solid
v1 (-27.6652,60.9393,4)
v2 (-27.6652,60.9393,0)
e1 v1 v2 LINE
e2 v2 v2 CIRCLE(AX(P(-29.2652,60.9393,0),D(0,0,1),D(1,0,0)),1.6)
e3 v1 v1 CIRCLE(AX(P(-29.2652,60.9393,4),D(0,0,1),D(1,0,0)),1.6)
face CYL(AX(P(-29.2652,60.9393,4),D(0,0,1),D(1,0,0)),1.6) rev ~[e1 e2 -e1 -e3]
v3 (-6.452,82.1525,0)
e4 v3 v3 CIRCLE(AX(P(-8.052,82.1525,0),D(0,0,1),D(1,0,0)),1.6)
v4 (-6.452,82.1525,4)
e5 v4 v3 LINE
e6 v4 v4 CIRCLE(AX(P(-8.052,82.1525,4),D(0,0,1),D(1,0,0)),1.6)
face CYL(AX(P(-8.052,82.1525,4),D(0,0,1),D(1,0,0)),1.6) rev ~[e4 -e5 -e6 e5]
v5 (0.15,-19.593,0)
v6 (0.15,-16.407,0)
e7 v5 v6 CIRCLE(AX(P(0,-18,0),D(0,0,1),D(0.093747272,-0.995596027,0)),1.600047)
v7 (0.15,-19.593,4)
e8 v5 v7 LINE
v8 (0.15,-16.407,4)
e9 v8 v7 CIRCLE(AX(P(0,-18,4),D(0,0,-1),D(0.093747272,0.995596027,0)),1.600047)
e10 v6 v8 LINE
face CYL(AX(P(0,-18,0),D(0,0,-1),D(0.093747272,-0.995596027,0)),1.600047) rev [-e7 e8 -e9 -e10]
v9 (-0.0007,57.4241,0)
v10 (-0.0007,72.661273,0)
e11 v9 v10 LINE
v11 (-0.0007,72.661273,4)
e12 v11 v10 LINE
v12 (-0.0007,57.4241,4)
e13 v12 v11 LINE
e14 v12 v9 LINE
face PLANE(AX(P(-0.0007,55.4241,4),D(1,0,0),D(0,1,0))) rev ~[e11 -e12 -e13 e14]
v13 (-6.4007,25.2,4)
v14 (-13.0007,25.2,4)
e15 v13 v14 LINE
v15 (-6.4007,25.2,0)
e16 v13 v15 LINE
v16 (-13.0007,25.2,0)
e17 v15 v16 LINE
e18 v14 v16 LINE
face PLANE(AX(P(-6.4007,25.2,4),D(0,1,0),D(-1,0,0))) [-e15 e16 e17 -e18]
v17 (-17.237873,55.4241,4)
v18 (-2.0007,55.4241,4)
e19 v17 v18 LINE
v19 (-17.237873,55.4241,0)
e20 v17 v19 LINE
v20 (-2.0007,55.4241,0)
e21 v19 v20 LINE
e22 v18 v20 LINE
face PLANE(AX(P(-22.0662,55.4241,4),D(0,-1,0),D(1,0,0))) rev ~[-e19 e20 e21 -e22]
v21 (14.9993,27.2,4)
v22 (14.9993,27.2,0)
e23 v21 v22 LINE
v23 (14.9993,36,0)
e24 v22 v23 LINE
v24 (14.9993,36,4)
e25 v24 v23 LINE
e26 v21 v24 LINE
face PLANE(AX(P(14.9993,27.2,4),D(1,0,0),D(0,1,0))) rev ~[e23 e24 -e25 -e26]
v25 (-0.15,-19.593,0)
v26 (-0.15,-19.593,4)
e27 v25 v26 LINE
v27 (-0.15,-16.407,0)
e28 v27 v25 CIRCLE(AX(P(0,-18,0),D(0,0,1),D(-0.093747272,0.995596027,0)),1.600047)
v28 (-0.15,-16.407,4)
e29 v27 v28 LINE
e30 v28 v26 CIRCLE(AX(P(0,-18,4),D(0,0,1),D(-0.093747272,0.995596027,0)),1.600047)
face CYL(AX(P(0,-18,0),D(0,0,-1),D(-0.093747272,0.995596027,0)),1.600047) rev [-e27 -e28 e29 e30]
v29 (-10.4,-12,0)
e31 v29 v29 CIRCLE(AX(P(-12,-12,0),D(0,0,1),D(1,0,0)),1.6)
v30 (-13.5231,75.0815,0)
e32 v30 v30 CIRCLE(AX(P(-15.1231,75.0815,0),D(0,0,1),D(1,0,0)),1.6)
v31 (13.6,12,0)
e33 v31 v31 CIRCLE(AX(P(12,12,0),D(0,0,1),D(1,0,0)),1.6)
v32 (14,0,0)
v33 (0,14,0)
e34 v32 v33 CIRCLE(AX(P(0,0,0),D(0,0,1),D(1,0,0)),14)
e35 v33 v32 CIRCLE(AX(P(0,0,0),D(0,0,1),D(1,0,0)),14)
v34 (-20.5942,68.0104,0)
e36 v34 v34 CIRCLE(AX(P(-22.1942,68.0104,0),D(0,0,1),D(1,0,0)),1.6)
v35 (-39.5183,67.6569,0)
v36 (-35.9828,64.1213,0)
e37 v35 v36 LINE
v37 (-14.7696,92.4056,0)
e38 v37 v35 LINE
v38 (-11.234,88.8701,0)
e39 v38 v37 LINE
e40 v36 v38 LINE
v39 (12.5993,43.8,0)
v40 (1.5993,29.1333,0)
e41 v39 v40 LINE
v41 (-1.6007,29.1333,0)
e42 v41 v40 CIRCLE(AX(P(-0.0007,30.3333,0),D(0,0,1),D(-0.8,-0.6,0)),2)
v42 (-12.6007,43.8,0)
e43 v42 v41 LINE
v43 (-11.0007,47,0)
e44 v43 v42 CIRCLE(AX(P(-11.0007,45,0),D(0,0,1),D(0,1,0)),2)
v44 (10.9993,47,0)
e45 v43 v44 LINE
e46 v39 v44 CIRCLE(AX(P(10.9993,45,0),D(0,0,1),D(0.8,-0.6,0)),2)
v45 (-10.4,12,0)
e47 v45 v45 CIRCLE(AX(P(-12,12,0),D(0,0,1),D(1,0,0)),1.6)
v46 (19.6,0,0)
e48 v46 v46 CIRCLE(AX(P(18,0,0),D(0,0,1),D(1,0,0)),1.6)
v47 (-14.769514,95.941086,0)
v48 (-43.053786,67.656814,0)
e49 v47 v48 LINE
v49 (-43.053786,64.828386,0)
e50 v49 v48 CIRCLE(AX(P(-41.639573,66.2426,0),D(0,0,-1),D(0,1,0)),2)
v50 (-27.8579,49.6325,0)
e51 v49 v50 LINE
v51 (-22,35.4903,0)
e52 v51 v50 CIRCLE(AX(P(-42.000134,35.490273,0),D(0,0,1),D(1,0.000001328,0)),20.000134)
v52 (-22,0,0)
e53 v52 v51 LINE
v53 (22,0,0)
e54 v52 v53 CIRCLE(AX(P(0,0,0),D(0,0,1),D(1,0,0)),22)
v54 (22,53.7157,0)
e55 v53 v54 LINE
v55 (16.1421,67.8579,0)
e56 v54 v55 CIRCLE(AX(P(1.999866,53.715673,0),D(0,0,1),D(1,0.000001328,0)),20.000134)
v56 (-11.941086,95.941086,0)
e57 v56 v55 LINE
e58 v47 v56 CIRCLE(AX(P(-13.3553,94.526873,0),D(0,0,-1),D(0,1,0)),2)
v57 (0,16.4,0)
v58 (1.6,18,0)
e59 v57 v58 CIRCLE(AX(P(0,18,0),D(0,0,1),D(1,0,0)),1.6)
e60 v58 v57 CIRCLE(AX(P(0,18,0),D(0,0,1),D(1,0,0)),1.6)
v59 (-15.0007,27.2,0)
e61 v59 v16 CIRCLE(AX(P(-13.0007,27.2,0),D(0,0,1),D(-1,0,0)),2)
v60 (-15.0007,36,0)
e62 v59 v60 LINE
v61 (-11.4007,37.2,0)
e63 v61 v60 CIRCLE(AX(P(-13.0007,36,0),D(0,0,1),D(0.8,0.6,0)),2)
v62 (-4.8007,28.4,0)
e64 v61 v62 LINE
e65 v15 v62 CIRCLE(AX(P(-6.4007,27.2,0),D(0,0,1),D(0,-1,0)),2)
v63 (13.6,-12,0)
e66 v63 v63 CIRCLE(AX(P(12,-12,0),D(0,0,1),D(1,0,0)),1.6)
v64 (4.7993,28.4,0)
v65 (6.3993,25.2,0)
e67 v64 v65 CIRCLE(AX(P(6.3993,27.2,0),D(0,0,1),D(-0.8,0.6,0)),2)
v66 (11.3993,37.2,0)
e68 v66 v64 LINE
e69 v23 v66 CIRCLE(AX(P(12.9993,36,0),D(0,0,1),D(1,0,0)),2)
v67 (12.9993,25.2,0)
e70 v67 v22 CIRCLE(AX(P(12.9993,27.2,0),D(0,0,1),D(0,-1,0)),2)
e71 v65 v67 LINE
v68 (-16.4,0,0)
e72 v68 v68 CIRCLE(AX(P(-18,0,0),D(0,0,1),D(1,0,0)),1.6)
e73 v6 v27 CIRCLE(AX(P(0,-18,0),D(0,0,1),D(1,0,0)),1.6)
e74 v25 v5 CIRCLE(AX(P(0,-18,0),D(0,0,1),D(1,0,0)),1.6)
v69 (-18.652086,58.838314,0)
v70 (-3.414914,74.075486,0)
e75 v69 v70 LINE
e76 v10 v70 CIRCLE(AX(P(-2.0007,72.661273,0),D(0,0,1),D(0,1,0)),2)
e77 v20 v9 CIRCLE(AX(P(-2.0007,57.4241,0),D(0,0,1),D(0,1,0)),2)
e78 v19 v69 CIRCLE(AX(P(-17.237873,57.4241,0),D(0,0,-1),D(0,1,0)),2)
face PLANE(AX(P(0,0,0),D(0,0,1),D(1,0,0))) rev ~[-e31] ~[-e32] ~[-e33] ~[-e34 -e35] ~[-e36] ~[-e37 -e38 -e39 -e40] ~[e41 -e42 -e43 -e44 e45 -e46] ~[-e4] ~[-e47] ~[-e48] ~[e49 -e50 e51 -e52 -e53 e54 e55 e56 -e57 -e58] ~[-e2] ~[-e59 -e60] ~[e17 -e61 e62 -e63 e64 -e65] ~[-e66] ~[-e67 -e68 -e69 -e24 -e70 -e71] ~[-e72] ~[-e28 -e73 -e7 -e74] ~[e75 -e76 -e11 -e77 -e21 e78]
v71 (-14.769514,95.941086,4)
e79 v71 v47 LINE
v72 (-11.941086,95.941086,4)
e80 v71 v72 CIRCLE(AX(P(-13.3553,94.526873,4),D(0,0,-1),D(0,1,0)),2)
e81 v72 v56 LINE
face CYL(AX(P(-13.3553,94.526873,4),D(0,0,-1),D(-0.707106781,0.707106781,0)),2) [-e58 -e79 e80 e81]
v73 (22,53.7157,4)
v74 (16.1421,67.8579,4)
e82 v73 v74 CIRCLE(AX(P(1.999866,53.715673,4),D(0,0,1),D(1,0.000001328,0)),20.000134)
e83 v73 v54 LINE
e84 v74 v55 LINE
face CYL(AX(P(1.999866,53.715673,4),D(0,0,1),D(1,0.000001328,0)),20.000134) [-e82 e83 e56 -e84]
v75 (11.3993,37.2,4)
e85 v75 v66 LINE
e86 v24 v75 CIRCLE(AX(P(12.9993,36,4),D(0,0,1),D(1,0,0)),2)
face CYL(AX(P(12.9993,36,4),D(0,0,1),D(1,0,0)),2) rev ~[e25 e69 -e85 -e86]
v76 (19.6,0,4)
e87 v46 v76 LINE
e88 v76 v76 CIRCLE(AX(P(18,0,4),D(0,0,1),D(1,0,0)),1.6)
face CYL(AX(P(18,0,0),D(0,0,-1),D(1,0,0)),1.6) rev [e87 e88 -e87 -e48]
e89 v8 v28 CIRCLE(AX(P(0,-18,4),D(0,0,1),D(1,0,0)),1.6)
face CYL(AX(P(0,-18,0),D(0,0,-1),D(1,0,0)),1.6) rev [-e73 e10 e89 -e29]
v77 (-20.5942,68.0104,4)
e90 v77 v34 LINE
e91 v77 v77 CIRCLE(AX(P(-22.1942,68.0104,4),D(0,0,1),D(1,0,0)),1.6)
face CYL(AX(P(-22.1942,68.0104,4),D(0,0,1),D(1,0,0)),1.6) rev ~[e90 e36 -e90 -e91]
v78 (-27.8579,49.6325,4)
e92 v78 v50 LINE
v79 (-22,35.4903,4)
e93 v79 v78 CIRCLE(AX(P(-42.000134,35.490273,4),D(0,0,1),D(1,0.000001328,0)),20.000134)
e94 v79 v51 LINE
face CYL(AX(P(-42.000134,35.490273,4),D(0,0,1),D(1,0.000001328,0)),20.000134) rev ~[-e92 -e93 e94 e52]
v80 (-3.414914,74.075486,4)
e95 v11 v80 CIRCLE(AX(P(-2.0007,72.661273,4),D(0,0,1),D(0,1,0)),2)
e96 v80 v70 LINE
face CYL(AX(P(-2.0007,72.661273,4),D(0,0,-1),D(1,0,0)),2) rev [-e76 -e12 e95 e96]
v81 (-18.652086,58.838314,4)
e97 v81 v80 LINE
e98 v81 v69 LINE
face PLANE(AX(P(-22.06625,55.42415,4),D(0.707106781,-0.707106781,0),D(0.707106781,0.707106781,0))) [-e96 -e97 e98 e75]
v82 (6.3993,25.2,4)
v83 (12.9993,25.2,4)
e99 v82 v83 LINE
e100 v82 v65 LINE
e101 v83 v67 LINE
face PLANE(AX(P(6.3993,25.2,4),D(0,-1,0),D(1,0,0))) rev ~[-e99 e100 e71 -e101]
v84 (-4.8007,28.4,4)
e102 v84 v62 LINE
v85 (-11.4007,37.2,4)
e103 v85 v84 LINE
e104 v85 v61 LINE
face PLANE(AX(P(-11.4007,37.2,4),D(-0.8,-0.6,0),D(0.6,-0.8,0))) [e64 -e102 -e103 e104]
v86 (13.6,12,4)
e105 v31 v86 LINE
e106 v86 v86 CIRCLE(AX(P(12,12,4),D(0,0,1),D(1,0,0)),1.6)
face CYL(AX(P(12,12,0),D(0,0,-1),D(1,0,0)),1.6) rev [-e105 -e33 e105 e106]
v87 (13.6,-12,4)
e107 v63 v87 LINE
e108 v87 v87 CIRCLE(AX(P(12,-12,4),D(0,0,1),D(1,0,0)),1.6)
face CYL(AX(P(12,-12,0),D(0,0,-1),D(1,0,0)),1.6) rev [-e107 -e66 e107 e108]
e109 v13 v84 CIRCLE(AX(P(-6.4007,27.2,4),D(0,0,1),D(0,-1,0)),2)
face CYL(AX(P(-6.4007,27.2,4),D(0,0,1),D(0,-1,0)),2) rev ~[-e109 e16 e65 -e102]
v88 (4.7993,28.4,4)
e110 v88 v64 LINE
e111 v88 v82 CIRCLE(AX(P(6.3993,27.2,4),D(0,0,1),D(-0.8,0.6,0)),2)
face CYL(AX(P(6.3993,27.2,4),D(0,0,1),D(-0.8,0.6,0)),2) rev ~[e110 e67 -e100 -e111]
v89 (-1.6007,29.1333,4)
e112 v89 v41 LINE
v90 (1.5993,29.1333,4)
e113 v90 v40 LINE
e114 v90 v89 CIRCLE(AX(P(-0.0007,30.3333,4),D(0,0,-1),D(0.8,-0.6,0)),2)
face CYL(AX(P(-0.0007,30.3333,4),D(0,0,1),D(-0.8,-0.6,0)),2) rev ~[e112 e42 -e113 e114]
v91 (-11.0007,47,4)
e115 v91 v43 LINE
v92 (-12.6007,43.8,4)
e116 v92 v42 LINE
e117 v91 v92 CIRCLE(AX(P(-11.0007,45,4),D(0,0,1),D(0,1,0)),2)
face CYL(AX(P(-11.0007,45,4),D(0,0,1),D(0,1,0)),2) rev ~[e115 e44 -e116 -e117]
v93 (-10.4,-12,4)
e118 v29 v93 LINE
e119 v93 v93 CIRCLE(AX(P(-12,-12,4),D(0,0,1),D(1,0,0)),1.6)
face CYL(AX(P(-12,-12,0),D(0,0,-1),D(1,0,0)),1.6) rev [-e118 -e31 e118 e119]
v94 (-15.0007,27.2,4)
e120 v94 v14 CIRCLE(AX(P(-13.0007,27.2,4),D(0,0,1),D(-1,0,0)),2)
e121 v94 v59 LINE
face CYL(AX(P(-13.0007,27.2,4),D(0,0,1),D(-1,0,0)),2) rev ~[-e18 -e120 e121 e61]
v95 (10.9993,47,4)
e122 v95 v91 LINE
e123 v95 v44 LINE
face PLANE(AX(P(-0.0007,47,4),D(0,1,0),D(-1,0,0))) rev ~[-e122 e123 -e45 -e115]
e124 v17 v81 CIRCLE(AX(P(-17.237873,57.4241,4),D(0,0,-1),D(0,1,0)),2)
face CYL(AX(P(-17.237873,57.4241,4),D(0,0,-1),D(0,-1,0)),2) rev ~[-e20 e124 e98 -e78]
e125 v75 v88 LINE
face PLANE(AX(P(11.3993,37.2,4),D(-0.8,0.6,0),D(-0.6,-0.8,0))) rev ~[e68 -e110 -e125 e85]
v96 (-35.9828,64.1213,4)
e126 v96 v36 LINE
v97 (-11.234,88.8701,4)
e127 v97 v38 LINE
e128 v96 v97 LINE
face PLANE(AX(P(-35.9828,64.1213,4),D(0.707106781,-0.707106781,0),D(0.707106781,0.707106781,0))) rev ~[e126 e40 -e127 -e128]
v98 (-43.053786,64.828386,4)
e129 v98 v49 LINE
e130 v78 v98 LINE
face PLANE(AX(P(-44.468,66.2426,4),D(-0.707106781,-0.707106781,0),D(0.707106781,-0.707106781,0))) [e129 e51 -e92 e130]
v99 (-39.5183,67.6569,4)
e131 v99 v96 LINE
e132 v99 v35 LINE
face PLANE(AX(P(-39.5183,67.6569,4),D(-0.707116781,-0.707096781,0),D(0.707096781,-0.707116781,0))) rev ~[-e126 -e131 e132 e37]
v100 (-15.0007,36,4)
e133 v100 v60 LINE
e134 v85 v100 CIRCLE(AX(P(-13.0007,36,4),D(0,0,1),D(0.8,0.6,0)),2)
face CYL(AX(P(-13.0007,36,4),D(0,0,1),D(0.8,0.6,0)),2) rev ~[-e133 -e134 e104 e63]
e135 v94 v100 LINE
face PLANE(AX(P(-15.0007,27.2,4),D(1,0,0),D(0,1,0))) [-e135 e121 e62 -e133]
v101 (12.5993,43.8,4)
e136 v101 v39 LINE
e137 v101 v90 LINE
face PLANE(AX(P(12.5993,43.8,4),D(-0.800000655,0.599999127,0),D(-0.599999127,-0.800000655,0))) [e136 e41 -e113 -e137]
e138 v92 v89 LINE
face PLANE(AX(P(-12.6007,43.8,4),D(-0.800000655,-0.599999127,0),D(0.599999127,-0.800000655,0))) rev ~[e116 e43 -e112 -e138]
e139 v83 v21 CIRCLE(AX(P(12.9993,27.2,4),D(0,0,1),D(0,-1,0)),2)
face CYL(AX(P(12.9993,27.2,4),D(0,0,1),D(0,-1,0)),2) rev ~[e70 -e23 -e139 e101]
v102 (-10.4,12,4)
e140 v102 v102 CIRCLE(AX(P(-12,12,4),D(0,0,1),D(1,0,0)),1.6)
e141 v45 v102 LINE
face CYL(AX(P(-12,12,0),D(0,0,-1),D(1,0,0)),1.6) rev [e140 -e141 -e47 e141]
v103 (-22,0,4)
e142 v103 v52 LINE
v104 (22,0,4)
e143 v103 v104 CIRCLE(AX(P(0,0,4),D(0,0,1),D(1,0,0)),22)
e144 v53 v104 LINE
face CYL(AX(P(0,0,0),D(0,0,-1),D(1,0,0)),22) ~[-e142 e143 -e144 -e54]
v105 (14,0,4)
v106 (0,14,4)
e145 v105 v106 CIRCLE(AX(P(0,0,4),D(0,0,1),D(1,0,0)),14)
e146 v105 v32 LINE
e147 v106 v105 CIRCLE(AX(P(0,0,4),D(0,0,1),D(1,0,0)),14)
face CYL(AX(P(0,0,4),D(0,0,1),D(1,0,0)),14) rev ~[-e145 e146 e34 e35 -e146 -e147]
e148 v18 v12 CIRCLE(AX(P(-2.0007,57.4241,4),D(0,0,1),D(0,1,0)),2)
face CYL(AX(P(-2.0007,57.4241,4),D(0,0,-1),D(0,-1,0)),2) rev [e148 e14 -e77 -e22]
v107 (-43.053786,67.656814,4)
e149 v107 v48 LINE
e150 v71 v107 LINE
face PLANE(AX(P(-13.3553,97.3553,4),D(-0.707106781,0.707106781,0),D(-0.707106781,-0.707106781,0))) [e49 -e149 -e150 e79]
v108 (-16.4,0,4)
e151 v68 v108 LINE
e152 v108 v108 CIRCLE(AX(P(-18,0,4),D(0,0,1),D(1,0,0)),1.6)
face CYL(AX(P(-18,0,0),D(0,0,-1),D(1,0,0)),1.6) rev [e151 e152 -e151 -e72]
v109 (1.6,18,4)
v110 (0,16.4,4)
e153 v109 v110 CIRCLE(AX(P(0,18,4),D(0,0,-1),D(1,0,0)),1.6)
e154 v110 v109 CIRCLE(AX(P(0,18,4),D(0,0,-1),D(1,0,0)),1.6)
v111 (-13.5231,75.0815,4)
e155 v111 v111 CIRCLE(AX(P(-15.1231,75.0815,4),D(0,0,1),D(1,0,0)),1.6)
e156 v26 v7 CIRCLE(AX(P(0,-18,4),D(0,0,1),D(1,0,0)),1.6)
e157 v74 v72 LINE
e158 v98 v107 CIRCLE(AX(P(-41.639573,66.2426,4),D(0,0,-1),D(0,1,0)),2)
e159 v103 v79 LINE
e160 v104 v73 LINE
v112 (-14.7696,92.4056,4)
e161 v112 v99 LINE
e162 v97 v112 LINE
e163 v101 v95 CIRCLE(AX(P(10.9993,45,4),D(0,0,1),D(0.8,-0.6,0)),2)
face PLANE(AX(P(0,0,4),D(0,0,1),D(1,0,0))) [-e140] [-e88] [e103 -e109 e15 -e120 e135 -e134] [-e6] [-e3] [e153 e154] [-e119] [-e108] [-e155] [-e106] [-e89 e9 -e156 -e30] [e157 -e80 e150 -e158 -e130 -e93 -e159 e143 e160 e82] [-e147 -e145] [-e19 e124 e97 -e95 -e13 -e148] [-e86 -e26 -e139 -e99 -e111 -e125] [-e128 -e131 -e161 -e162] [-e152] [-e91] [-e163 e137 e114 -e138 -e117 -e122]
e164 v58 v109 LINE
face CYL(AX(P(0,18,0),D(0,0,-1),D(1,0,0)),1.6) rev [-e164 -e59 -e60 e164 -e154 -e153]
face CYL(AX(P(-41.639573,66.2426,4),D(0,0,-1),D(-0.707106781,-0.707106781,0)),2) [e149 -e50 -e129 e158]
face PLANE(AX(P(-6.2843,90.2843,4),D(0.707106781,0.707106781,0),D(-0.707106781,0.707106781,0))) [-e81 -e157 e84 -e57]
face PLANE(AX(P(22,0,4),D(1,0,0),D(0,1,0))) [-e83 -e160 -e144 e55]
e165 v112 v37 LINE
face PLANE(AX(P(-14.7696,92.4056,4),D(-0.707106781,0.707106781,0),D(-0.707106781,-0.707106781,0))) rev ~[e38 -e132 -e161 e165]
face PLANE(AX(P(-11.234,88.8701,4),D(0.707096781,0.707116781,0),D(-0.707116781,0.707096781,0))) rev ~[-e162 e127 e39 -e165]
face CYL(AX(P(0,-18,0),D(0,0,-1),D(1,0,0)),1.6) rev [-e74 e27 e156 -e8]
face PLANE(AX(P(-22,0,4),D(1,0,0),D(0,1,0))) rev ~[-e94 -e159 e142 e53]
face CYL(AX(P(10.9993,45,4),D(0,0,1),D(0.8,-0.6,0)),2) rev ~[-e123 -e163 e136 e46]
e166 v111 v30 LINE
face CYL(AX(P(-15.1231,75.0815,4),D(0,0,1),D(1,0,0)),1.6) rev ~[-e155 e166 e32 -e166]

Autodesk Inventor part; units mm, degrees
ref_plane "YZ Plane" through (0, 0, 0) normal (1, 0, 0) x (0, 1, 0)
ref_plane "XZ Plane" through (0, 0, 0) normal (0, 1, 0) x (-1, 0, 0)
ref_plane "XY Plane" through (0, 0, 0) normal (0, 0, 1) x (1, 0, 0)
sketch "스케치1" plane through (0, 0, 0) normal (0, 0, 1) x (1, 0, 0)
  circle A0 centre (0, 0) radius 22
  line L0 (0, 0) -> (0, 18)
  line L1 (-0.15, -20.7995) -> (-0.15, -19.593)
  arc A1 (-0.15, -16.407) -> (-0.15, -19.593) centre (0, -18) ccw
  line L2 (-0.15, -16.407) -> (-0.15, -12.9991)
  arc A2 (0.15, -12.9991) -> (-0.15, -12.9991) centre (0, 0) ccw
  line L3 (0.15, -16.407) -> (0.15, -12.9991)
  arc A3 (0.15, -19.593) -> (0.15, -16.407) centre (0, -18) ccw
  line L4 (0.15, -20.7995) -> (0.15, -19.593)
  circle A4 centre (12, 12) radius 1.6
  circle A5 centre (-18, 0) radius 1.6
  circle A6 centre (-12, 12) radius 1.6
  circle A7 centre (-12, -12) radius 1.6
  circle A8 centre (18, 0) radius 1.6
  circle A9 centre (12, -12) radius 1.6
  circle A10 centre (0, 18) radius 1.6
  circle A11 centre (0, 0) radius 12.5
  circle A12 centre (0, -18) radius 1.6
  point P0 (0.15, -19.593)
  dimension "d0" = 44
  dimension "d1" = 18
extrude "돌출1" add sketch "스케치1" along normal blind 4 contours A0 | A2 L3 A12 L2 | A10 | A11 | A3 A12 A1 | A4 | A5 | A6 | A7 | A8 | A9
sketch "스케치2" plane through (0, 0, 4) normal (0, 0, 1) x (1, 0, 0)
  circle A0 centre (0, 0) radius 22 projected
  circle A1 centre (0, 0) radius 22 projected
  line L0 (0, -22) -> (0, 58)
  line L1 (22, 0) -> (22, 53.7157)
  line L2 (16.1421, 67.8579) -> (-6.2843, 90.2843)
  line L3 (22, 62) -> (53.7157, 62) construction
  line L4 (-6.2843, 90.2843) -> (-37.397, 59.1716)
  line L5 (-22, 0) -> (-22, 35.4903)
  line L6 (-27.8579, 49.6325) -> (-37.397, 59.1716)
  arc A2 (-22, 35.4903) -> (-27.8579, 49.6325) centre (-42, 35.4903) ccw
  arc A3 (22, 53.7157) -> (16.1421, 67.8579) centre (2, 53.7157) ccw
  point P0 (-22, 43.7746)
  dimension "d9" = 80
  dimension "d46" = 62
  dimension "d48" = 135
  dimension "d50" = 40
  dimension "d57" = 20
  dimension "d92" = 44
sketch "스케치4" plane through (0, 0, 4) normal (0, 0, 1) x (1, 0, 0)
  circle A0 centre (0, 0) radius 14
  dimension "d32" = 28
extrude "돌출4" cut sketch "스케치4" against normal blind 4
sketch "스케치5" plane through (0, 0, 4) normal (0, 0, 1) x (1, 0, 0)
  line L0 (-0.0007, 55) -> (-0.0007, 47)
  line L1 (-0.0007, 47) -> (10.9993, 47)
  line L2 (-0.0007, 47) -> (-11.0007, 47)
  line L3 (-0.0007, 47) -> (-0.0007, 27)
  line L4 (-12.6007, 43.8) -> (-1.6007, 29.1333)
  line L5 (12.5993, 43.8) -> (1.5993, 29.1333)
  line L6 (11.3993, 37.2) -> (4.7993, 28.4)
  line L7 (6.3993, 25.2) -> (12.9993, 25.2)
  line L8 (14.9993, 27.2) -> (14.9993, 36)
  arc A0 (-11.0007, 47) -> (-12.6007, 43.8) centre (-11.0007, 45) ccw
  arc A1 (-1.6007, 29.1333) -> (1.5993, 29.1333) centre (-0.0007, 30.3333) ccw
  arc A2 (12.5993, 43.8) -> (10.9993, 47) centre (10.9993, 45) ccw
  arc A3 (14.9993, 36) -> (11.3993, 37.2) centre (12.9993, 36) ccw
  arc A4 (12.9993, 25.2) -> (14.9993, 27.2) centre (12.9993, 27.2) ccw
  arc A5 (4.7993, 28.4) -> (6.3993, 25.2) centre (6.3993, 27.2) ccw
  line L9 (-11.4007, 37.2) -> (-4.8007, 28.4)
  line L10 (-6.4007, 25.2) -> (-13.0007, 25.2)
  line L11 (-15.0007, 27.2) -> (-15.0007, 36)
  arc A6 (-11.4007, 37.2) -> (-15.0007, 36) centre (-13.0007, 36) ccw
  arc A7 (-15.0007, 27.2) -> (-13.0007, 25.2) centre (-13.0007, 27.2) ccw
  arc A8 (-6.4007, 25.2) -> (-4.8007, 28.4) centre (-6.4007, 27.2) ccw
  point P0 (0, 0)
  point P1 (14.9993, 47)
  point P2 (-15.0007, 47)
  point P3 (14.9993, 42)
  dimension "d35" = 8
  dimension "d36" = 15
  dimension "d37" = 15
  dimension "d38" = 20
  dimension "d39" = 5
  dimension "d41" = 2
extrude "돌출7" add sketch "스케치2" against normal blind 4 contours L5 A2 L6 L4 L2 A3 L1 A0
extrude "돌출8" cut sketch "스케치5" against normal blind 4
extrude "돌출9" cut sketch "스케치1" along normal blind 4 contours A10 | A3 A12 A1 | A4 | A5 | A6 | A7 | A8 | A9
sketch "스케치9" plane through (0, 0, 4) normal (0, 0, 1) x (1, 0, 0)
  circle A0 centre (-12, 12) radius 1.6 projected
  circle A1 centre (12, -12) radius 1.6 projected
  circle A2 centre (0, -18) radius 1.6 projected
  circle A3 centre (0, 18) radius 1.6 projected
  circle A4 centre (-18, 0) radius 1.6 projected
  circle A5 centre (18, 0) radius 1.6 projected
  circle A6 centre (-12, -12) radius 1.6 projected
  circle A7 centre (12, 12) radius 1.6 projected
  line L0 (4.7993, 28.4) -> (11.3993, 37.2) projected
  arc A8 (14.9993, 36) -> (11.3993, 37.2) centre (12.9993, 36) ccw projected
  line L1 (14.9993, 36) -> (14.9993, 27.2) projected
  arc A9 (12.9993, 25.2) -> (14.9993, 27.2) centre (12.9993, 27.2) ccw projected
  line L2 (12.9993, 25.2) -> (6.3993, 25.2) projected
  arc A10 (4.7993, 28.4) -> (6.3993, 25.2) centre (6.3993, 27.2) ccw projected
  arc A11 (-6.4007, 25.2) -> (-4.8007, 28.4) centre (-6.4007, 27.2) ccw projected
  line L3 (-6.4007, 25.2) -> (-13.0007, 25.2) projected
  arc A12 (-15.0007, 27.2) -> (-13.0007, 25.2) centre (-13.0007, 27.2) ccw projected
  line L4 (-15.0007, 27.2) -> (-15.0007, 36) projected
  arc A13 (-11.4007, 37.2) -> (-15.0007, 36) centre (-13.0007, 36) ccw projected
  line L5 (-11.4007, 37.2) -> (-4.8007, 28.4) projected
  line L6 (12.5993, 43.8) -> (1.5993, 29.1333) projected
  arc A14 (-1.6007, 29.1333) -> (1.5993, 29.1333) centre (-0.0007, 30.3333) ccw projected
  line L7 (-1.6007, 29.1333) -> (-12.6007, 43.8) projected
  arc A15 (-11.0007, 47) -> (-12.6007, 43.8) centre (-11.0007, 45) ccw projected
  line L8 (-11.0007, 47) -> (10.9993, 47) projected
  arc A16 (12.5993, 43.8) -> (10.9993, 47) centre (10.9993, 45) ccw projected
  circle A17 centre (0, 0) radius 14 projected
  arc A18 (-22, 0) -> (22, 0) centre (0, 0) ccw projected
  line L9 (22, 0) -> (22, 53.7157) projected
  arc A19 (22, 53.7157) -> (16.1421, 67.8579) centre (2, 53.7157) ccw projected
  line L10 (16.1421, 67.8579) -> (-6.2843, 90.2843) projected
  line L11 (-6.2843, 90.2843) -> (-37.397, 59.1716) projected
  line L12 (-37.397, 59.1716) -> (-27.8579, 49.6325) projected
  arc A20 (-22, 35.4903) -> (-27.8579, 49.6325) centre (-42, 35.4903) ccw projected
  line L13 (-22, 35.4903) -> (-22, 0) projected
  circle A21 centre (-29.2652, 60.9393) radius 1.6
  circle A22 centre (-22.1942, 68.0104) radius 1.6
  circle A23 centre (-15.1231, 75.0815) radius 1.6
  circle A24 centre (-8.052, 82.1525) radius 1.6
  dimension "d73" = 3.2
  dimension "d74" = 3.2
  dimension "d76" = 3.2
  dimension "d77" = 3.2
  dimension "d78" = 4.5
  dimension "d79" = 4.5
  dimension "d81" = 4.5
  dimension "d82" = 4.5
  dimension "d83" = 10
  dimension "d85" = 10
  dimension "d88" = 7
  dimension "d91" = 7
extrude "돌출10" cut sketch "스케치9" against normal blind 10 contours A21 | A22 | A23 | A24
sketch "스케치10" plane through (0, 0, 4) normal (0, 0, 1) x (1, 0, 0)
  circle A0 centre (-15.1231, 75.0815) radius 1.6 projected
  circle A1 centre (-22.1942, 68.0104) radius 1.6 projected
  circle A2 centre (-8.052, 82.1525) radius 1.6 projected
  circle A3 centre (-29.2652, 60.9393) radius 1.6 projected
  circle A4 centre (-12, 12) radius 1.6 projected
  circle A5 centre (12, -12) radius 1.6 projected
  circle A6 centre (0, -18) radius 1.6 projected
  circle A7 centre (0, 18) radius 1.6 projected
  circle A8 centre (-18, 0) radius 1.6 projected
  circle A9 centre (18, 0) radius 1.6 projected
  circle A10 centre (-12, -12) radius 1.6 projected
  circle A11 centre (12, 12) radius 1.6 projected
  line L0 (4.7993, 28.4) -> (11.3993, 37.2) projected
  arc A12 (14.9993, 36) -> (11.3993, 37.2) centre (12.9993, 36) ccw projected
  line L1 (14.9993, 36) -> (14.9993, 27.2) projected
  arc A13 (12.9993, 25.2) -> (14.9993, 27.2) centre (12.9993, 27.2) ccw projected
  line L2 (12.9993, 25.2) -> (6.3993, 25.2) projected
  arc A14 (4.7993, 28.4) -> (6.3993, 25.2) centre (6.3993, 27.2) ccw projected
  arc A15 (-6.4007, 25.2) -> (-4.8007, 28.4) centre (-6.4007, 27.2) ccw projected
  line L3 (-6.4007, 25.2) -> (-13.0007, 25.2) projected
  arc A16 (-15.0007, 27.2) -> (-13.0007, 25.2) centre (-13.0007, 27.2) ccw projected
  line L4 (-15.0007, 27.2) -> (-15.0007, 36) projected
  arc A17 (-11.4007, 37.2) -> (-15.0007, 36) centre (-13.0007, 36) ccw projected
  line L5 (-11.4007, 37.2) -> (-4.8007, 28.4) projected
  line L6 (12.5993, 43.8) -> (1.5993, 29.1333) projected
  arc A18 (-1.6007, 29.1333) -> (1.5993, 29.1333) centre (-0.0007, 30.3333) ccw projected
  line L7 (-1.6007, 29.1333) -> (-12.6007, 43.8) projected
  arc A19 (-11.0007, 47) -> (-12.6007, 43.8) centre (-11.0007, 45) ccw projected
  line L8 (-11.0007, 47) -> (10.9993, 47) projected
  arc A20 (12.5993, 43.8) -> (10.9993, 47) centre (10.9993, 45) ccw projected
  circle A21 centre (0, 0) radius 14 projected
  arc A22 (-22, 0) -> (22, 0) centre (0, 0) ccw projected
  line L9 (22, 0) -> (22, 53.7157) projected
  arc A23 (22, 53.7157) -> (16.1421, 67.8579) centre (2, 53.7157) ccw projected
  line L10 (16.1421, 67.8579) -> (-6.2843, 90.2843) projected
  line L11 (-6.2843, 90.2843) -> (-37.397, 59.1716) projected
  line L12 (-37.397, 59.1716) -> (-27.8579, 49.6325) projected
  arc A24 (-22, 35.4903) -> (-27.8579, 49.6325) centre (-42, 35.4903) ccw projected
  line L13 (-22, 35.4903) -> (-22, 0) projected
  line L14 (-6.2843, 90.2843) -> (16.1421, 67.8579) projected
  line L15 (-6.2843, 90.2843) -> (-13.3553, 97.3553)
  line L16 (-13.3553, 97.3553) -> (-44.468, 66.2426)
  line L17 (-44.468, 66.2426) -> (-37.397, 59.1716)
  line L18 (-14.7696, 92.4056) -> (-39.5183, 67.6569)
  line L19 (-6.2843, 90.2843) -> (-37.397, 59.1716) projected
  line L20 (-39.5183, 67.6569) -> (-35.9828, 64.1213)
  line L21 (-35.9828, 64.1213) -> (-11.234, 88.8701)
  line L22 (-11.234, 88.8701) -> (-14.7696, 92.4056)
  point P0 (-37.397, 59.1716)
  dimension "d93" = 10
  dimension "d95" = 5
  dimension "d96" = 35
  dimension "d97" = 2.5
  dimension "d99" = 4.5
extrude "돌출11" add sketch "스케치10" against normal blind 4 contours L17 L16 L15 L11
fillet "모깎기1" radius 2 2 edges at (-13.3553, 97.3553, 2) (-44.468, 66.2426, 2)
sketch "스케치11" plane through (0, 0, 4) normal (0, 0, 1) x (1, 0, 0)
  arc A0 (-43.0538, 67.6569) -> (-43.0538, 64.8284) centre (-41.6396, 66.2426) ccw projected
  line L0 (-43.0538, 64.8284) -> (-27.8579, 49.6325) projected
  arc A1 (-22, 35.4903) -> (-27.8579, 49.6325) centre (-42, 35.4903) ccw projected
  line L1 (-22, 35.4903) -> (-22, 0) projected
  arc A2 (-22, 0) -> (22, 0) centre (0, 0) ccw projected
  line L2 (22, 0) -> (22, 53.7157) projected
  arc A3 (22, 53.7157) -> (16.1421, 67.8579) centre (2, 53.7157) ccw projected
  line L3 (16.1421, 67.8579) -> (-11.9411, 95.9411) projected
  arc A4 (-11.9411, 95.9411) -> (-14.7696, 95.9411) centre (-13.3553, 94.5269) ccw projected
  line L4 (-14.7696, 95.9411) -> (-43.0538, 67.6569) projected
  line L5 (-35.9828, 64.1213) -> (-39.5183, 67.6569) projected
  line L6 (-39.5183, 67.6569) -> (-14.7696, 92.4056) projected
  line L7 (-14.7696, 92.4056) -> (-11.234, 88.8701) projected
  line L8 (-11.234, 88.8701) -> (-35.9828, 64.1213) projected
  circle A5 centre (-15.1231, 75.0815) radius 1.6 projected
  circle A6 centre (-22.1942, 68.0104) radius 1.6 projected
  circle A7 centre (-8.052, 82.1525) radius 1.6 projected
  circle A8 centre (-29.2652, 60.9393) radius 1.6 projected
  circle A9 centre (-12, 12) radius 1.6 projected
  circle A10 centre (12, -12) radius 1.6 projected
  circle A11 centre (0, -18) radius 1.6 projected
  circle A12 centre (0, 18) radius 1.6 projected
  circle A13 centre (-18, 0) radius 1.6 projected
  circle A14 centre (18, 0) radius 1.6 projected
  circle A15 centre (-12, -12) radius 1.6 projected
  circle A16 centre (12, 12) radius 1.6 projected
  arc A17 (4.7993, 28.4) -> (6.3993, 25.2) centre (6.3993, 27.2) ccw projected
  line L9 (4.7993, 28.4) -> (11.3993, 37.2) projected
  arc A18 (14.9993, 36) -> (11.3993, 37.2) centre (12.9993, 36) ccw projected
  line L10 (14.9993, 36) -> (14.9993, 27.2) projected
  arc A19 (12.9993, 25.2) -> (14.9993, 27.2) centre (12.9993, 27.2) ccw projected
  line L11 (12.9993, 25.2) -> (6.3993, 25.2) projected
  arc A20 (-6.4007, 25.2) -> (-4.8007, 28.4) centre (-6.4007, 27.2) ccw projected
  line L12 (-6.4007, 25.2) -> (-13.0007, 25.2) projected
  arc A21 (-15.0007, 27.2) -> (-13.0007, 25.2) centre (-13.0007, 27.2) ccw projected
  line L13 (-15.0007, 27.2) -> (-15.0007, 36) projected
  arc A22 (-11.4007, 37.2) -> (-15.0007, 36) centre (-13.0007, 36) ccw projected
  line L14 (-11.4007, 37.2) -> (-4.8007, 28.4) projected
  line L15 (-11.0007, 47) -> (10.9993, 47) projected
  arc A23 (12.5993, 43.8) -> (10.9993, 47) centre (10.9993, 45) ccw projected
  line L16 (12.5993, 43.8) -> (1.5993, 29.1333) projected
  arc A24 (-1.6007, 29.1333) -> (1.5993, 29.1333) centre (-0.0007, 30.3333) ccw projected
  line L17 (-1.6007, 29.1333) -> (-12.6007, 43.8) projected
  arc A25 (-11.0007, 47) -> (-12.6007, 43.8) centre (-11.0007, 45) ccw projected
  circle A26 centre (0, 0) radius 14 projected
  arc A27 (46.1675, 71.3111) -> (47.7675, 68.1111) centre (47.7675, 70.1111) ccw
  line L18 (46.1675, 71.3111) -> (52.7675, 80.1111)
  arc A28 (56.3675, 78.9111) -> (52.7675, 80.1111) centre (54.3675, 78.9111) ccw
  line L19 (56.3675, 78.9111) -> (56.3675, 70.1111)
  arc A29 (54.3675, 68.1111) -> (56.3675, 70.1111) centre (54.3675, 70.1111) ccw
  line L20 (54.3675, 68.1111) -> (47.7675, 68.1111)
  arc A30 (34.9675, 68.1111) -> (36.5675, 71.3111) centre (34.9675, 70.1111) ccw
  line L21 (34.9675, 68.1111) -> (28.3675, 68.1111)
  arc A31 (26.3675, 70.1111) -> (28.3675, 68.1111) centre (28.3675, 70.1111) ccw
  line L22 (26.3675, 70.1111) -> (26.3675, 78.9111)
  arc A32 (29.9675, 80.1111) -> (26.3675, 78.9111) centre (28.3675, 78.9111) ccw
  line L23 (29.9675, 80.1111) -> (36.5675, 71.3111)
  line L24 (30.3675, 89.9111) -> (52.3675, 89.9111)
  arc A33 (53.9675, 86.7111) -> (52.3675, 89.9111) centre (52.3675, 87.9111) ccw
  line L25 (53.9675, 86.7111) -> (42.9675, 72.0445)
  arc A34 (39.7675, 72.0445) -> (42.9675, 72.0445) centre (41.3675, 73.2445) ccw
  line L26 (39.7675, 72.0445) -> (28.7675, 86.7111)
  arc A35 (30.3675, 89.9111) -> (28.7675, 86.7111) centre (30.3675, 87.9111) ccw
  line L27 (-43.0538, 64.8284) -> (-27.8579, 49.6325) projected
  line L28 (16.1421, 67.8579) -> (-11.9411, 95.9411) projected
  line L29 (-11.0007, 47) -> (10.9993, 47) projected
  line L30 (-0.0007, 47) -> (-0.0007, 52)
  line L31 (22, 53.7157) -> (22, 0) projected
  arc A36 (-22, 35.4903) -> (-27.8579, 49.6325) centre (-42, 35.4903) ccw projected
  line L32 (-27.8579, 49.6325) -> (3.2548, 80.7452)
  line L33 (-22.0662, 55.4241) -> (-0.0007, 55.4241)
  line L34 (-0.0007, 55.4241) -> (-0.0007, 77.4896)
  dimension "d103" = 5
  dimension "d104" = 22.0655
extrude "돌출12" cut sketch "스케치11" against normal blind 10 contours L32 L34 L33
fillet "모깎기2" radius 2 3 edges at (-22.0662, 55.4241, 2) (-0.0007, 77.4896, 2) (-0.0007, 55.4241, 2)
properties part number "조인트3힌지사이드_4T" material "알루미늄 6061"
